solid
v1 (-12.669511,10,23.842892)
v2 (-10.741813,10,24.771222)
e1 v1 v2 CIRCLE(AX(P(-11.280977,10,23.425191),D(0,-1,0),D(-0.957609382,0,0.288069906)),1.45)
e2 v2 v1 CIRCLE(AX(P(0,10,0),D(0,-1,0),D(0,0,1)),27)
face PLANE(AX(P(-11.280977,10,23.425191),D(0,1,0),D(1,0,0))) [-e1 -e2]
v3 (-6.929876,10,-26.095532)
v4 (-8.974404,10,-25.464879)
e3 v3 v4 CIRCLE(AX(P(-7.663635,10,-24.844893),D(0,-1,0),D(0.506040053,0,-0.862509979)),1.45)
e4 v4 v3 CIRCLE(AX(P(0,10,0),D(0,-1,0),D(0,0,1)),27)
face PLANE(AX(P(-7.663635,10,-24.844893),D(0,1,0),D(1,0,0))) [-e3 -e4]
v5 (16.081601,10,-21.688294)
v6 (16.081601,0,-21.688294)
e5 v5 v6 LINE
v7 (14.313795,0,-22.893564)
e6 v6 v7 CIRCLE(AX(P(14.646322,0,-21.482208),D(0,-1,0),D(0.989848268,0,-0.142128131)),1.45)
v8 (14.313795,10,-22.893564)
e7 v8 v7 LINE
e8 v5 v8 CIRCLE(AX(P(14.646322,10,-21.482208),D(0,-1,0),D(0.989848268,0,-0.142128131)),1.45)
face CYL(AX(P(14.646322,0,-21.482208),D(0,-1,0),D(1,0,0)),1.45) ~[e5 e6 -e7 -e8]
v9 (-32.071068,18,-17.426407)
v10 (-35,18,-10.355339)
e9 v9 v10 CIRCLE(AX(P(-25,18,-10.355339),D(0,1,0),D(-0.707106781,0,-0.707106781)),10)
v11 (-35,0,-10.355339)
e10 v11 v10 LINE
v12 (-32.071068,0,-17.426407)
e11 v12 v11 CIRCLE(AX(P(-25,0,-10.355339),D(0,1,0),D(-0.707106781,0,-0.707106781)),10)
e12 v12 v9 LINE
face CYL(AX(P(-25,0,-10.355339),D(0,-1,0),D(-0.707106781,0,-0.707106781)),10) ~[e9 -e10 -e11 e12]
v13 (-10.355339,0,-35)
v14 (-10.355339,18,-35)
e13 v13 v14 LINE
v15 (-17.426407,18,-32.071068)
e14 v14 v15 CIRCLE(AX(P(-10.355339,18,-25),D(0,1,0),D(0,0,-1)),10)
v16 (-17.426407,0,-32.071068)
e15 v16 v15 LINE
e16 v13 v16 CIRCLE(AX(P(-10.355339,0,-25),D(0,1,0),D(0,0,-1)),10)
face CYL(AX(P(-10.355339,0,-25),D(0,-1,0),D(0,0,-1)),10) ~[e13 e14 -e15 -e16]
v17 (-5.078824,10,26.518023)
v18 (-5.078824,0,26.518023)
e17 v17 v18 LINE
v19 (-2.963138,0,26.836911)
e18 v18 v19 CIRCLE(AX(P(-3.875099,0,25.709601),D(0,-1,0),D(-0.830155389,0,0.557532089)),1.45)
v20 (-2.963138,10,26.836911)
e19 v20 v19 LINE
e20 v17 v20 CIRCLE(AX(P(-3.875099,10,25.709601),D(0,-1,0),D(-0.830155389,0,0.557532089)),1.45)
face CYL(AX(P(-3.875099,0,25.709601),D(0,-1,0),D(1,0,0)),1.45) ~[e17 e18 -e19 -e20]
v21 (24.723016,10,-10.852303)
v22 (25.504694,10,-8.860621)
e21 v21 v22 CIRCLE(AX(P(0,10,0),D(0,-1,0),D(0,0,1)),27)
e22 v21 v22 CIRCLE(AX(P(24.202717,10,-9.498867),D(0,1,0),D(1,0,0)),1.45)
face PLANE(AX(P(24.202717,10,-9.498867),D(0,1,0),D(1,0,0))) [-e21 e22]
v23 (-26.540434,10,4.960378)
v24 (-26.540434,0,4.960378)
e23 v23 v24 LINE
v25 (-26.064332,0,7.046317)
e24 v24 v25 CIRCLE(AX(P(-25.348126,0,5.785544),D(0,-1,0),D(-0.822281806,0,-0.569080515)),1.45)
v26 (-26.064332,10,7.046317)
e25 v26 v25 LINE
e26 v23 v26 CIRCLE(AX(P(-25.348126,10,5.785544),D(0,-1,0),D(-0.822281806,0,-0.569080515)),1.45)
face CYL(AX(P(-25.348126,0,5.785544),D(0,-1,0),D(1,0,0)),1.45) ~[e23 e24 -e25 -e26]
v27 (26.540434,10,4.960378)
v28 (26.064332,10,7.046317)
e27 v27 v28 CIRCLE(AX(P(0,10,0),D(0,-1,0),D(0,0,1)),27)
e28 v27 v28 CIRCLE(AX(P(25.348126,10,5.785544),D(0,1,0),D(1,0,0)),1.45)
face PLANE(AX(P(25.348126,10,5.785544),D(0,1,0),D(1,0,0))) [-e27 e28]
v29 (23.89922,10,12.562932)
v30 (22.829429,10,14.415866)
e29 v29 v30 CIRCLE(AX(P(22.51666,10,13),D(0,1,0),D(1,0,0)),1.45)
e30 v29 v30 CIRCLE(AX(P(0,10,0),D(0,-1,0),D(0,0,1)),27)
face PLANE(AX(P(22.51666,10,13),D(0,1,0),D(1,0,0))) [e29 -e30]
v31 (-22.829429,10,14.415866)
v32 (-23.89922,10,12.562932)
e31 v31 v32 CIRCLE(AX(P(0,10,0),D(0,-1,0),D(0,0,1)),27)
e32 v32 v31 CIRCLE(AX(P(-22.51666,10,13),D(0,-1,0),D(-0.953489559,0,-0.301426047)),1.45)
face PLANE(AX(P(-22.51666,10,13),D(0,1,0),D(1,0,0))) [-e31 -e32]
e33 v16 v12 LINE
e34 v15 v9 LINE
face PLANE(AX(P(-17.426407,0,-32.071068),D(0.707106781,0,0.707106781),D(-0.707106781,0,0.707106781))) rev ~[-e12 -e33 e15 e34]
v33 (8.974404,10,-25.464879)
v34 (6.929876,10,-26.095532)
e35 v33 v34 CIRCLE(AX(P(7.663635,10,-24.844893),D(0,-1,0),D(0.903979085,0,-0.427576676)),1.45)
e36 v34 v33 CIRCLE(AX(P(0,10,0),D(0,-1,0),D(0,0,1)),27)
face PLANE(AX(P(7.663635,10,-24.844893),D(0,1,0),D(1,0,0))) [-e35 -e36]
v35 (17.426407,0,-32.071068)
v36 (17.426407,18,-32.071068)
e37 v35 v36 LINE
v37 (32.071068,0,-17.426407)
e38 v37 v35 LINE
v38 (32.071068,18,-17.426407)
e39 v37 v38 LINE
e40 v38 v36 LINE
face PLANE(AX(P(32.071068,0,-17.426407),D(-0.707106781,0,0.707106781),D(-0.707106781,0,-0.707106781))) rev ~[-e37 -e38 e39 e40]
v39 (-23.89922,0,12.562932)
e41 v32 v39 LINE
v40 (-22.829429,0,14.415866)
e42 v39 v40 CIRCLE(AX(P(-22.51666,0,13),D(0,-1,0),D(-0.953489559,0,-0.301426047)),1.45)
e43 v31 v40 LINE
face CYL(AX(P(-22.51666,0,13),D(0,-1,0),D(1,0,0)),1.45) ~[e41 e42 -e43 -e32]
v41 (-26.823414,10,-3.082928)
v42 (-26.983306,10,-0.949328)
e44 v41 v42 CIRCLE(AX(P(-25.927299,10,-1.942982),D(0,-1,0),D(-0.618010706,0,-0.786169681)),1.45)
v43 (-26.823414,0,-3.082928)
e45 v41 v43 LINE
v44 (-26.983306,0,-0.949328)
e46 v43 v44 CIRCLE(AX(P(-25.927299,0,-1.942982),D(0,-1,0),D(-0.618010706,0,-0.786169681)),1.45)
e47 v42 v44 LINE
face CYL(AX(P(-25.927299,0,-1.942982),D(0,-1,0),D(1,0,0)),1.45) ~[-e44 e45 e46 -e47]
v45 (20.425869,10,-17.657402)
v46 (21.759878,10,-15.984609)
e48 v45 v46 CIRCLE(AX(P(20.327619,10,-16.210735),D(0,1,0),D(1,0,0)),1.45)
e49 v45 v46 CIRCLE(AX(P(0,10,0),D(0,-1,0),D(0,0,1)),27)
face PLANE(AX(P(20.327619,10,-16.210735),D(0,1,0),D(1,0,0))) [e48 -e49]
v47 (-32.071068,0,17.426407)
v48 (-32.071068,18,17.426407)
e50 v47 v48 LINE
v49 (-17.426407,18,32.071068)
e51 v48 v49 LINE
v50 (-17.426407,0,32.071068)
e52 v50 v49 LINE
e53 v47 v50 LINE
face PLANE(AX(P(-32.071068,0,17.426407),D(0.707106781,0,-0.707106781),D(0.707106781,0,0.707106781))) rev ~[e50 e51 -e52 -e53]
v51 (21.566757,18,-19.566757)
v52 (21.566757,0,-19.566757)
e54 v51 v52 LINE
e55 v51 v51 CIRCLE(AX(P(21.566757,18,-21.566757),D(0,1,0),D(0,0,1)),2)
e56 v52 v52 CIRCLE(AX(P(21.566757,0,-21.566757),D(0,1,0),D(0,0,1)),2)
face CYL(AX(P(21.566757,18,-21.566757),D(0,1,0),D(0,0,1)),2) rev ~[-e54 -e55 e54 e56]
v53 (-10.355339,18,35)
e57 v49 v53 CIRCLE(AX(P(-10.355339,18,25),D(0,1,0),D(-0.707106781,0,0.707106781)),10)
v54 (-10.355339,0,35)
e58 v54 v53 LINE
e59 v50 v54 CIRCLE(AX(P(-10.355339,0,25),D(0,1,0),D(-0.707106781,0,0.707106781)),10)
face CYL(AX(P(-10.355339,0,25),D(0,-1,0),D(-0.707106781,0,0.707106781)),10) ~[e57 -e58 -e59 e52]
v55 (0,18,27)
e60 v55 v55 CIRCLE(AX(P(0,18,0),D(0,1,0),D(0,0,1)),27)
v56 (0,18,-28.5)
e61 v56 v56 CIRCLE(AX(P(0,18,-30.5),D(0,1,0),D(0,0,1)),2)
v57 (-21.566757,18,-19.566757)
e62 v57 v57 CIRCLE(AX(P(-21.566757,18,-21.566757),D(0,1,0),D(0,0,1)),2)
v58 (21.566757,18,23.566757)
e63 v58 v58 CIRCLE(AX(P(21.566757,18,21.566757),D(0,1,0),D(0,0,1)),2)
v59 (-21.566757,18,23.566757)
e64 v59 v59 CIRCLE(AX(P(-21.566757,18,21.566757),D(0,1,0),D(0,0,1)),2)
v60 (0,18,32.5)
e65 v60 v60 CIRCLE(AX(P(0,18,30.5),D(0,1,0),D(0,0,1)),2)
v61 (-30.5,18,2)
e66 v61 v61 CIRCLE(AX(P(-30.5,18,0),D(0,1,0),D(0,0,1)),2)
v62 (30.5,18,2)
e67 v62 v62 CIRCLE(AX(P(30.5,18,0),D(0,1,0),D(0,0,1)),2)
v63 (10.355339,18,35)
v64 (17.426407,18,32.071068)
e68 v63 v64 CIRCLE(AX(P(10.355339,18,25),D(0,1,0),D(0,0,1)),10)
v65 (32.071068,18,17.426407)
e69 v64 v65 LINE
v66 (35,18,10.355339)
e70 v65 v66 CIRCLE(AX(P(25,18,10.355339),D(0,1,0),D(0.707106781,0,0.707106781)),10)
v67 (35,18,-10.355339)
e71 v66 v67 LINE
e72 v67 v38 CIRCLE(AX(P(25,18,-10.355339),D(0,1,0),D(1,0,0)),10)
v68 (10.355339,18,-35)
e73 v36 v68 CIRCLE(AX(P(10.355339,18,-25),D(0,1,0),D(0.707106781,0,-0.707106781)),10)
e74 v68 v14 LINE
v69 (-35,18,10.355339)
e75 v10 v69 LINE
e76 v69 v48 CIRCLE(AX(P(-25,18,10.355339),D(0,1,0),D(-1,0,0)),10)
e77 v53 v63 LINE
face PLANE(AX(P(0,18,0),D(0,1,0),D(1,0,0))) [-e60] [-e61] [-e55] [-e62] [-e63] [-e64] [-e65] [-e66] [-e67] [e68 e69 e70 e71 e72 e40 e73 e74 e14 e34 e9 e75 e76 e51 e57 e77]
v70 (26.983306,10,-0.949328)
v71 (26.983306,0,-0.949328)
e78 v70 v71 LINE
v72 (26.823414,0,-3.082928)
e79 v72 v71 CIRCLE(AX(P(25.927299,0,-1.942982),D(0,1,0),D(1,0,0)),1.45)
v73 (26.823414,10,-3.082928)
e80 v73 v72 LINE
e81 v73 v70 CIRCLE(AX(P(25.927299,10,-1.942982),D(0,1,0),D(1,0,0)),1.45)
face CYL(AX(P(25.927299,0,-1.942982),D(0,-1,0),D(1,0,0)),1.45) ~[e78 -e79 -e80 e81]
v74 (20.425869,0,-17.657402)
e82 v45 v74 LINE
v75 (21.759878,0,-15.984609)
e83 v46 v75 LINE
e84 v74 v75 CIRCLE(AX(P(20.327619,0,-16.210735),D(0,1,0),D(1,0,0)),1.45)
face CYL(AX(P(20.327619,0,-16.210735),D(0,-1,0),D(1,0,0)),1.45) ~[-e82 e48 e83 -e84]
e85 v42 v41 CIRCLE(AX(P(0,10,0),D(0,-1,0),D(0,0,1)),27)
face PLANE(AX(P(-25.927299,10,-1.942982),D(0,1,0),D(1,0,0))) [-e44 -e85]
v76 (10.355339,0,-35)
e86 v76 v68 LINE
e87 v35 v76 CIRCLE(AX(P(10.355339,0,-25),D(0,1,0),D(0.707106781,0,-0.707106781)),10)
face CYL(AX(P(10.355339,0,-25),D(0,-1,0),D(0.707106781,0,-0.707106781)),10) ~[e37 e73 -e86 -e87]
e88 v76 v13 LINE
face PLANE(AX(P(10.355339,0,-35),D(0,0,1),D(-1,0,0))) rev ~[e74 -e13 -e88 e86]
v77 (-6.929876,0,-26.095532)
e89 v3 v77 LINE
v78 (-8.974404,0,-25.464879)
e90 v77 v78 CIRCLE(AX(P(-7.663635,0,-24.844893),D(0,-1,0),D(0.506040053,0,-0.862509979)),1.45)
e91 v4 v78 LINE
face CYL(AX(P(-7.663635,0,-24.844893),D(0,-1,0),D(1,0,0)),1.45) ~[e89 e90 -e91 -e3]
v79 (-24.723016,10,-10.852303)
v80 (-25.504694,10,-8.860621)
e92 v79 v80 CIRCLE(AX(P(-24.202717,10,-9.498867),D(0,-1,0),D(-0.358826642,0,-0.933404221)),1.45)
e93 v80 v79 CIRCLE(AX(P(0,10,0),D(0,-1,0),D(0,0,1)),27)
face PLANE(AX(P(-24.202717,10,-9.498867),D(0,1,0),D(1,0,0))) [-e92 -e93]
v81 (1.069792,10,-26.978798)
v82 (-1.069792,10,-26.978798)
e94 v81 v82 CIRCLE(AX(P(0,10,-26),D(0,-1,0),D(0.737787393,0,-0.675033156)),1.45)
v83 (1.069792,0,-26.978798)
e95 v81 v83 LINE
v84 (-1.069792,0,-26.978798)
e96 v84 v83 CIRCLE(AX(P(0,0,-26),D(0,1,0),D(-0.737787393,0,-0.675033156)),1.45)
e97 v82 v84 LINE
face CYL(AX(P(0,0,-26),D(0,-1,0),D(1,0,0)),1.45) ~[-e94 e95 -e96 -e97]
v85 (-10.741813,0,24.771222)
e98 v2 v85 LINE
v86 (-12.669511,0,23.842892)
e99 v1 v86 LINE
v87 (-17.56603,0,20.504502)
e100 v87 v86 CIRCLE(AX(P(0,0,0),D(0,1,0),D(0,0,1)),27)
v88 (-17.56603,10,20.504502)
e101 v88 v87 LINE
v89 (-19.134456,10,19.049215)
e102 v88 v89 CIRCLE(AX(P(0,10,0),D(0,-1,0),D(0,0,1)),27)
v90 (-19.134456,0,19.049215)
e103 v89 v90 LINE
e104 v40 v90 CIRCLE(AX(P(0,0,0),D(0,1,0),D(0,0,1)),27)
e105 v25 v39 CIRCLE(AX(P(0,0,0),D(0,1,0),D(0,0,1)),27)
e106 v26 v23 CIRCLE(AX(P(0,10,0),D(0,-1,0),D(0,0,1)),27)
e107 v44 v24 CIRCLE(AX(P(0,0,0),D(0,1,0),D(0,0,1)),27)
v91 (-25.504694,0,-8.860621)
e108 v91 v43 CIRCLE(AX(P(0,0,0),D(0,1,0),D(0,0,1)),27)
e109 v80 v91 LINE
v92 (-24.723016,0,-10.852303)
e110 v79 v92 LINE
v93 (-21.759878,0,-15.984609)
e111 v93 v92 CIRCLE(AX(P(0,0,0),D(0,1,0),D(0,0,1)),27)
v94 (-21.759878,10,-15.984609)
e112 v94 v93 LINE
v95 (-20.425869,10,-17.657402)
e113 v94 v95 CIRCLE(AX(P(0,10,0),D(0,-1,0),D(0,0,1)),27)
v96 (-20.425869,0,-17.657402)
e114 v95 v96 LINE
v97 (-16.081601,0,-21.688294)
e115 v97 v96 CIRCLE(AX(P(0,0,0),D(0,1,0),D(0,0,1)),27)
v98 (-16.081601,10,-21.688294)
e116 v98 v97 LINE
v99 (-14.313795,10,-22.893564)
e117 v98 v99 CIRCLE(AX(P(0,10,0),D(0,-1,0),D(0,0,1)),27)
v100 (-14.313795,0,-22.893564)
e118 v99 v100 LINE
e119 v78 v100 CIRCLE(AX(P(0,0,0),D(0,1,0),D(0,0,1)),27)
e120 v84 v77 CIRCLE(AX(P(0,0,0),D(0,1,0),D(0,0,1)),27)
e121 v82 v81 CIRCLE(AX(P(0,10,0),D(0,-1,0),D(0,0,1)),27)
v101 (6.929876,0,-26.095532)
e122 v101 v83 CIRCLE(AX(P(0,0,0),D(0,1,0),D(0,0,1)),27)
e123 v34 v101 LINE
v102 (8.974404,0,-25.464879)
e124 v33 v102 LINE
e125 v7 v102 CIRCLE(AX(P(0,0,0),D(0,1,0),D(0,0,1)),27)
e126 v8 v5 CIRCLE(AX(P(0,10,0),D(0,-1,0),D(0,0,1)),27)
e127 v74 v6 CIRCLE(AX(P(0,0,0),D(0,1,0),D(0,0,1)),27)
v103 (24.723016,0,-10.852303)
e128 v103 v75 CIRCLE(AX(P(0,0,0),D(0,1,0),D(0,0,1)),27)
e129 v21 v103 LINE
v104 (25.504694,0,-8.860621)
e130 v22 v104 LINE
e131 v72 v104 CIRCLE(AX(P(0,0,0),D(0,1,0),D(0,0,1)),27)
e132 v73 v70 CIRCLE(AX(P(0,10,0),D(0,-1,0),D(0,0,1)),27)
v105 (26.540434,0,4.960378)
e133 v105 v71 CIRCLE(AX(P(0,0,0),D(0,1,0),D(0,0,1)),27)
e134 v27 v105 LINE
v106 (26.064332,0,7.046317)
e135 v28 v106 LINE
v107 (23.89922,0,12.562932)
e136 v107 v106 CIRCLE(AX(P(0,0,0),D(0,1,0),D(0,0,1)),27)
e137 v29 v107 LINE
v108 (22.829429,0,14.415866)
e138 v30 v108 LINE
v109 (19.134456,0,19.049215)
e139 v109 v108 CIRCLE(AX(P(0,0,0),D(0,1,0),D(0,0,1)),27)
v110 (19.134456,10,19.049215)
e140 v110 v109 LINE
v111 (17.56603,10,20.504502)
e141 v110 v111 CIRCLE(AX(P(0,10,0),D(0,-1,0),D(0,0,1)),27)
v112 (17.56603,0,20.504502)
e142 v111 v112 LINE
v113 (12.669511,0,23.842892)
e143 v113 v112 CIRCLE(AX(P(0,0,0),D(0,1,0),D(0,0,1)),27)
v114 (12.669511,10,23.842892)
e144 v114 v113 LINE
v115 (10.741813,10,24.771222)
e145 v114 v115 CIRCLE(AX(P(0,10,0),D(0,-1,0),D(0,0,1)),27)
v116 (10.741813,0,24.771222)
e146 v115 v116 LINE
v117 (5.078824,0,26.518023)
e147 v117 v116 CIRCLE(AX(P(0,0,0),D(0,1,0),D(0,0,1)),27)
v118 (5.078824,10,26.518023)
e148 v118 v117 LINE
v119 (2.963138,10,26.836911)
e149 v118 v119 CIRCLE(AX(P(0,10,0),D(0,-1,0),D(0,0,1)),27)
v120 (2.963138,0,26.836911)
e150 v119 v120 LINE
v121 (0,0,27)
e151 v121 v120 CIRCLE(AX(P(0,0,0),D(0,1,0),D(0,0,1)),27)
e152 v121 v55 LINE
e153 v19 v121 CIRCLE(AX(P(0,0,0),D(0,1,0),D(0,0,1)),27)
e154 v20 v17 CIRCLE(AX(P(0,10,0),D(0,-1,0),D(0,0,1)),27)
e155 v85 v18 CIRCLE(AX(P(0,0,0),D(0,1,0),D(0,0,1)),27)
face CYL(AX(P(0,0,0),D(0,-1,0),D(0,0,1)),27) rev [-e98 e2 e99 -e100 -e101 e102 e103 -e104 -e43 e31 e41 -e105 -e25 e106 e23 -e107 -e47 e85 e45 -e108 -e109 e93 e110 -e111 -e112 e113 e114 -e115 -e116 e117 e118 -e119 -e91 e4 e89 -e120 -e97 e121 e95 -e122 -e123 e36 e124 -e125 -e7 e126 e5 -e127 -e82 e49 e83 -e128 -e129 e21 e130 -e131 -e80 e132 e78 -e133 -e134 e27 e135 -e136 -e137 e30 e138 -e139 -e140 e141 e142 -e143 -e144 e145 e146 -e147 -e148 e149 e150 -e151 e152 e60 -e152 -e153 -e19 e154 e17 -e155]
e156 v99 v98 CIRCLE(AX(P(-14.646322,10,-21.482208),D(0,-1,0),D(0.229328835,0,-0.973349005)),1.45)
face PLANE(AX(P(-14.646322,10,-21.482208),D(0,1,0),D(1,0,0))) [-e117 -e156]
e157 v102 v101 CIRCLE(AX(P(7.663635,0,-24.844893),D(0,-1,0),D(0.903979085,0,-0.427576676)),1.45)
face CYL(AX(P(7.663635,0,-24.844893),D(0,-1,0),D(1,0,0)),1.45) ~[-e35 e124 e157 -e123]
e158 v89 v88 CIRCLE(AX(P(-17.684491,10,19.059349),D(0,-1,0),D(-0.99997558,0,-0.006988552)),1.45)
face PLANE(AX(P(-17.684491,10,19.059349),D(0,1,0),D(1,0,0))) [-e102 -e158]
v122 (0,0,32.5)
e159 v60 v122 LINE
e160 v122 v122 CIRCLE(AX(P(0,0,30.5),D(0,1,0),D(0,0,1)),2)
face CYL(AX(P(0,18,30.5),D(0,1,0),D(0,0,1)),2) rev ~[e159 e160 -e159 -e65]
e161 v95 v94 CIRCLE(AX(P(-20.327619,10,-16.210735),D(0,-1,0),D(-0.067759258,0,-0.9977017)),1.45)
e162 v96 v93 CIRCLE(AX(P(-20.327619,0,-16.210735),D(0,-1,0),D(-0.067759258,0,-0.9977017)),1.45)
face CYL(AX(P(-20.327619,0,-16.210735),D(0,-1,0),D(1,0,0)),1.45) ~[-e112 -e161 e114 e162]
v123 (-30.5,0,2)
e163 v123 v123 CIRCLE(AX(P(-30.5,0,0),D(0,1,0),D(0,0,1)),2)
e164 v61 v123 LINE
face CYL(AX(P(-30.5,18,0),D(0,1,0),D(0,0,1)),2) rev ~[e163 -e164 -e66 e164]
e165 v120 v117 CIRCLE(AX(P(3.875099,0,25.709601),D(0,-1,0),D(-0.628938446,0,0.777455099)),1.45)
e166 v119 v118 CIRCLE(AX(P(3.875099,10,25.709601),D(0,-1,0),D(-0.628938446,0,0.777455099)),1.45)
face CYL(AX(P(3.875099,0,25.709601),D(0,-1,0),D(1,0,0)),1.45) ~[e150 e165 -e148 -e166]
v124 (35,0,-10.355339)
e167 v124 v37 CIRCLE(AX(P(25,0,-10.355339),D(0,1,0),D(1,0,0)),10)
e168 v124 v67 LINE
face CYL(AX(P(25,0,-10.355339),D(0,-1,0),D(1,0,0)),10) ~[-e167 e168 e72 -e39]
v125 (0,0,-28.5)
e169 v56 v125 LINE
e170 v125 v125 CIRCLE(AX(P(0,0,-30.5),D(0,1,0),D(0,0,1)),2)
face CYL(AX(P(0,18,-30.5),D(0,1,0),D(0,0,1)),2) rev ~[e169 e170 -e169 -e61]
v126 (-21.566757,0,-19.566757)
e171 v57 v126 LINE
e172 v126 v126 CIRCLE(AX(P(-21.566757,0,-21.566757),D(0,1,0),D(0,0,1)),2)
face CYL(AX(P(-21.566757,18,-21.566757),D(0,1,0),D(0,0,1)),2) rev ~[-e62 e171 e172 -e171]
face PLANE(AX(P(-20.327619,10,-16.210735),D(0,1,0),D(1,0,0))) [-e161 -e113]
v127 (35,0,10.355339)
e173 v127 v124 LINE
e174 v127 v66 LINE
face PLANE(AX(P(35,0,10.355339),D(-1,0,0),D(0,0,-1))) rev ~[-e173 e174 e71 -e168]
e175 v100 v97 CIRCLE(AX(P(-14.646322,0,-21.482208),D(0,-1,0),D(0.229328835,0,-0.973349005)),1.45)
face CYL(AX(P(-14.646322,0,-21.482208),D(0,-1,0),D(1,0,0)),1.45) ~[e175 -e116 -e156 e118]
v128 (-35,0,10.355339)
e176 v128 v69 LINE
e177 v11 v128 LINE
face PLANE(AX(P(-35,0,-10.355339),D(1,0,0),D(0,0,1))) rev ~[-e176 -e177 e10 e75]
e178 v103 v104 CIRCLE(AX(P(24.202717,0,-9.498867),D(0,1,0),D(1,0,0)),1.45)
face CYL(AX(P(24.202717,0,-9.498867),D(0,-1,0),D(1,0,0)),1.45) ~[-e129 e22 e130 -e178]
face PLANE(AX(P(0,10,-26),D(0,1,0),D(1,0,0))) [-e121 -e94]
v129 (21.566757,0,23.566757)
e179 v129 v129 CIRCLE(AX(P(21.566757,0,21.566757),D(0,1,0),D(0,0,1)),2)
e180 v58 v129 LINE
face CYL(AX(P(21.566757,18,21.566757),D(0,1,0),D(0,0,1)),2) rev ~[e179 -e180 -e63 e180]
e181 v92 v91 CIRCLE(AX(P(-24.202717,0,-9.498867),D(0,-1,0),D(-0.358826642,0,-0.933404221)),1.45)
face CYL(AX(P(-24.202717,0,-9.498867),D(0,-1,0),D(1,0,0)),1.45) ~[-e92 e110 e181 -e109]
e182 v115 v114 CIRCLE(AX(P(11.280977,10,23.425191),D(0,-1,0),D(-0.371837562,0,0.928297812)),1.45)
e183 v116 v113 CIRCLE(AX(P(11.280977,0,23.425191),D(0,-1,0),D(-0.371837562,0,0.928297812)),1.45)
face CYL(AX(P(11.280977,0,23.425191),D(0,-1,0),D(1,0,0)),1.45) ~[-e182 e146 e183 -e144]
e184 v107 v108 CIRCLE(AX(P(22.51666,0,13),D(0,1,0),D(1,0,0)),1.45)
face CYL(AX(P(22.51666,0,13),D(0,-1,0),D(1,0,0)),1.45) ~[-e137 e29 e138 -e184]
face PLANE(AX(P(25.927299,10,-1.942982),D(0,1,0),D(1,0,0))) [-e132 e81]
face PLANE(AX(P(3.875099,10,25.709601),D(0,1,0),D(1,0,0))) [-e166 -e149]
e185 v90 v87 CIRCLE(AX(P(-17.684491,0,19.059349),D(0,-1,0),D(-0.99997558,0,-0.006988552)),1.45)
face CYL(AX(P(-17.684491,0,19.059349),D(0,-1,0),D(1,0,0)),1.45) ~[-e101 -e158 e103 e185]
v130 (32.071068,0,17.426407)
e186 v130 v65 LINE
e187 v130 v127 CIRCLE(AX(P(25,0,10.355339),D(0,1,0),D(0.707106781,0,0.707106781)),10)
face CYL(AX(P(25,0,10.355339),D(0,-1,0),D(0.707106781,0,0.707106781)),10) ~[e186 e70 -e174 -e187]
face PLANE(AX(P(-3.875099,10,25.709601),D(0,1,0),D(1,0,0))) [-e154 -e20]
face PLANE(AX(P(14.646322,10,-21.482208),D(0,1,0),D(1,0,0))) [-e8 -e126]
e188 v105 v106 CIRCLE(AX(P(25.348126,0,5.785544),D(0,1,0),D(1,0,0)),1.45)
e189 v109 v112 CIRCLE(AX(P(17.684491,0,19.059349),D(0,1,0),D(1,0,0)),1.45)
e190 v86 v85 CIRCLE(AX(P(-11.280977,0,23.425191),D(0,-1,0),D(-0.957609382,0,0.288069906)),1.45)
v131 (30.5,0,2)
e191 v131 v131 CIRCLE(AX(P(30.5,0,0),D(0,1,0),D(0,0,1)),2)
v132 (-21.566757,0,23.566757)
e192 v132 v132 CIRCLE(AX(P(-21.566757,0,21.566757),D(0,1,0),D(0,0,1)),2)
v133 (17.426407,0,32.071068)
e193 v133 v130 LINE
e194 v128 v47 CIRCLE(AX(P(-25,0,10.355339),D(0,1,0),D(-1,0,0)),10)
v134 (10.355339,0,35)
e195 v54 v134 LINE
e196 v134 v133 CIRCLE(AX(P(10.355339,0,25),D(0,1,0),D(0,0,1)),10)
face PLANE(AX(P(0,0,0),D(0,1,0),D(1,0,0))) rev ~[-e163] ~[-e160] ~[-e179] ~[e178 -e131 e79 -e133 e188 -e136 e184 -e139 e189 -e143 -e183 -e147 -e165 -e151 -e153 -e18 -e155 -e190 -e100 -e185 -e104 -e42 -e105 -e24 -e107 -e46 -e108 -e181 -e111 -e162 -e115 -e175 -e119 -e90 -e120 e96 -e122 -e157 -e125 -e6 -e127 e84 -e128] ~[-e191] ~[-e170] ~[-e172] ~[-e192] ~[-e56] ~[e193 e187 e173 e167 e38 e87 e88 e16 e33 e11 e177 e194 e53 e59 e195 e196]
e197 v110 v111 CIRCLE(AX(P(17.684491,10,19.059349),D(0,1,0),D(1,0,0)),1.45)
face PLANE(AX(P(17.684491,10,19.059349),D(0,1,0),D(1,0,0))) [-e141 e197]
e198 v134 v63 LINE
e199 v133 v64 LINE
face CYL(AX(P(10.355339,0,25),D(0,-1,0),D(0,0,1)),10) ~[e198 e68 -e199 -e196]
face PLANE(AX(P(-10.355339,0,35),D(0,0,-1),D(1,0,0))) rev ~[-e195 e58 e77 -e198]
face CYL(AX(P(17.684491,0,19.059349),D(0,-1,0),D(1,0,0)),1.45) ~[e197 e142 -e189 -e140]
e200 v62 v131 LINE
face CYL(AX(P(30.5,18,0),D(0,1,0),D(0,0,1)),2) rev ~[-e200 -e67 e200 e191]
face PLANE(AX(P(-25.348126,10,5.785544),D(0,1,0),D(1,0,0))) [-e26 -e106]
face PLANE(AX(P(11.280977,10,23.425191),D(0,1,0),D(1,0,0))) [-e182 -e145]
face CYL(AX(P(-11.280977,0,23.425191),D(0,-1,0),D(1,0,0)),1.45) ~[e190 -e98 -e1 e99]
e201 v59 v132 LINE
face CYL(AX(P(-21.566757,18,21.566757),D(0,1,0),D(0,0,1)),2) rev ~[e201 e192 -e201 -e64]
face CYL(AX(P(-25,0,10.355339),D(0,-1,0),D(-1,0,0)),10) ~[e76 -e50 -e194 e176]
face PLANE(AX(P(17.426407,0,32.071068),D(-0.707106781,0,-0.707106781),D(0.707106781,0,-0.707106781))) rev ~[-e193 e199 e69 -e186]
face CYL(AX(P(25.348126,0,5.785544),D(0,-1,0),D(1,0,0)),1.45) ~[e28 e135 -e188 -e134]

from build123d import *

# Parameters (mm, degrees)
SKETCH1_R           = 32
SKETCH1_R_2         = 27
BOSS_EXTRUDE1_DEPTH = 18
SKETCH2_R           = 1.45
BOSS_EXTRUDE2_DEPTH = 10
SKETCH4_R           = 32
BOSS_EXTRUDE3_DEPTH = 18
SKETCH5_R           = 2
CUT_EXTRUDE2_DEPTH  = 53.668776329
SKETCH3_R           = 2
CUT_EXTRUDE3_DEPTH  = 53.668776329


with BuildPart() as part:
    # Sketch1 → Boss-Extrude1 (new body)
    with BuildSketch(Plane(origin=(0, 0, 0), x_dir=(1, 0, 0), z_dir=(0, 1, 0))):
        with Locations(Location((0, 0, 0), (0, 0, 270))):
            Circle(SKETCH1_R)
        with Locations(Location((0, 0, 0), (0, 0, 270))):
            Circle(SKETCH1_R_2, mode=Mode.SUBTRACT)
    extrude(amount=BOSS_EXTRUDE1_DEPTH)

    # Sketch2 → Boss-Extrude2 (add)
    with BuildSketch(Plane(origin=(0, 0, 0), x_dir=(1, 0, 0), z_dir=(0, 1, 0))):
        with Locations((0, 26)):
            Circle(SKETCH2_R)
        with Locations((7.663634535, 24.84489295)):
            Circle(SKETCH2_R)
        with Locations((14.64632151, 21.482208132)):
            Circle(SKETCH2_R)
        with Locations((20.327618544, 16.210734848)):
            Circle(SKETCH2_R)
        with Locations((24.202717465, 9.498866634)):
            Circle(SKETCH2_R)
        with Locations((25.927298727, 1.942982433)):
            Circle(SKETCH2_R)
        with Locations((25.348125717, -5.785544283)):
            Circle(SKETCH2_R)
        with Locations((22.516660498, -13)):
            Circle(SKETCH2_R)
        with Locations((17.684491182, -19.059348668)):
            Circle(SKETCH2_R)
        with Locations((11.280977217, -23.425190565)):
            Circle(SKETCH2_R)
        with Locations((3.875098921, -25.709601482)):
            Circle(SKETCH2_R)
        with Locations((-3.875098921, -25.709601482)):
            Circle(SKETCH2_R)
        with Locations((-11.280977217, -23.425190565)):
            Circle(SKETCH2_R)
        with Locations((-17.684491182, -19.059348668)):
            Circle(SKETCH2_R)
        with Locations((-22.516660498, -13)):
            Circle(SKETCH2_R)
        with Locations((-25.348125717, -5.785544283)):
            Circle(SKETCH2_R)
        with Locations((-25.927298727, 1.942982433)):
            Circle(SKETCH2_R)
        with Locations((-24.202717465, 9.498866634)):
            Circle(SKETCH2_R)
        with Locations((-20.327618544, 16.210734848)):
            Circle(SKETCH2_R)
        with Locations((-14.64632151, 21.482208132)):
            Circle(SKETCH2_R)
        with Locations((-7.663634535, 24.84489295)):
            Circle(SKETCH2_R)
    extrude(amount=BOSS_EXTRUDE2_DEPTH)

    # Sketch4 → Boss-Extrude3 (add)
    with BuildSketch(Plane(origin=(0, 0, 0), x_dir=(1, 0, 0), z_dir=(0, 1, 0))):
        with BuildLine():
            Line((10.355339059, 35), (-10.355339059, 35))
            ThreePointArc((-10.355339059, 35), (-14.182173383, 34.238795325), (-17.426406871, 32.071067812))
            Line((-17.426406871, 32.071067812), (-32.071067812, 17.426406871))
            ThreePointArc((-32.071067812, 17.426406871), (-34.238795325, 14.182173383), (-35, 10.355339059))
            Line((-35, 10.355339059), (-35, -10.355339059))
            ThreePointArc((-35, -10.355339059), (-34.238795325, -14.182173383), (-32.071067812, -17.426406871))
            Line((-32.071067812, -17.426406871), (-17.426406871, -32.071067812))
            ThreePointArc((-17.426406871, -32.071067812), (-14.182173383, -34.238795325), (-10.355339059, -35))
            Line((-10.355339059, -35), (10.355339059, -35))
            ThreePointArc((10.355339059, -35), (14.182173383, -34.238795325), (17.426406871, -32.071067812))
            Line((17.426406871, -32.071067812), (32.071067812, -17.426406871))
            ThreePointArc((32.071067812, -17.426406871), (34.238795325, -14.182173383), (35, -10.355339059))
            Line((35, -10.355339059), (35, 10.355339059))
            ThreePointArc((35, 10.355339059), (34.238795325, 14.182173383), (32.071067812, 17.426406871))
            Line((32.071067812, 17.426406871), (17.426406871, 32.071067812))
            ThreePointArc((17.426406871, 32.071067812), (14.182173383, 34.238795325), (10.355339059, 35))
        make_face()
        Circle(SKETCH4_R, mode=Mode.SUBTRACT)
    extrude(amount=BOSS_EXTRUDE3_DEPTH)

    # Sketch5 → Cut-Extrude2 (cut, through all)
    with BuildSketch(Plane(origin=(0, 18, 0), x_dir=(1, 0, 0), z_dir=(0, 1, 0))):
        with Locations(Location((-21.566756826, 21.566756826, 0), (0, 0, 270))):
            Circle(SKETCH5_R)
        with Locations(Location((21.566756826, 21.566756826, 0), (0, 0, 270))):
            Circle(SKETCH5_R)
        with Locations(Location((21.566756826, -21.566756826, 0), (0, 0, 270))):
            Circle(SKETCH5_R)
        with Locations(Location((-21.566756826, -21.566756826, 0), (0, 0, 270))):
            Circle(SKETCH5_R)
    extrude(amount=-CUT_EXTRUDE2_DEPTH, mode=Mode.SUBTRACT)

    # Sketch3 → Cut-Extrude3 (cut, through all)
    with BuildSketch(Plane(origin=(0, 18, 0), x_dir=(1, 0, 0), z_dir=(0, 1, 0))):
        with Locations(Location((0, 30.5, 0), (0, 0, 270))):
            Circle(SKETCH3_R)
        with Locations(Location((30.5, 0, 0), (0, 0, 270))):
            Circle(SKETCH3_R)
        with Locations(Location((0, -30.5, 0), (0, 0, 270))):
            Circle(SKETCH3_R)
        with Locations(Location((-30.5, 0, 0), (0, 0, 270))):
            Circle(SKETCH3_R)
    extrude(amount=-CUT_EXTRUDE3_DEPTH, mode=Mode.SUBTRACT)


solid = part.part
